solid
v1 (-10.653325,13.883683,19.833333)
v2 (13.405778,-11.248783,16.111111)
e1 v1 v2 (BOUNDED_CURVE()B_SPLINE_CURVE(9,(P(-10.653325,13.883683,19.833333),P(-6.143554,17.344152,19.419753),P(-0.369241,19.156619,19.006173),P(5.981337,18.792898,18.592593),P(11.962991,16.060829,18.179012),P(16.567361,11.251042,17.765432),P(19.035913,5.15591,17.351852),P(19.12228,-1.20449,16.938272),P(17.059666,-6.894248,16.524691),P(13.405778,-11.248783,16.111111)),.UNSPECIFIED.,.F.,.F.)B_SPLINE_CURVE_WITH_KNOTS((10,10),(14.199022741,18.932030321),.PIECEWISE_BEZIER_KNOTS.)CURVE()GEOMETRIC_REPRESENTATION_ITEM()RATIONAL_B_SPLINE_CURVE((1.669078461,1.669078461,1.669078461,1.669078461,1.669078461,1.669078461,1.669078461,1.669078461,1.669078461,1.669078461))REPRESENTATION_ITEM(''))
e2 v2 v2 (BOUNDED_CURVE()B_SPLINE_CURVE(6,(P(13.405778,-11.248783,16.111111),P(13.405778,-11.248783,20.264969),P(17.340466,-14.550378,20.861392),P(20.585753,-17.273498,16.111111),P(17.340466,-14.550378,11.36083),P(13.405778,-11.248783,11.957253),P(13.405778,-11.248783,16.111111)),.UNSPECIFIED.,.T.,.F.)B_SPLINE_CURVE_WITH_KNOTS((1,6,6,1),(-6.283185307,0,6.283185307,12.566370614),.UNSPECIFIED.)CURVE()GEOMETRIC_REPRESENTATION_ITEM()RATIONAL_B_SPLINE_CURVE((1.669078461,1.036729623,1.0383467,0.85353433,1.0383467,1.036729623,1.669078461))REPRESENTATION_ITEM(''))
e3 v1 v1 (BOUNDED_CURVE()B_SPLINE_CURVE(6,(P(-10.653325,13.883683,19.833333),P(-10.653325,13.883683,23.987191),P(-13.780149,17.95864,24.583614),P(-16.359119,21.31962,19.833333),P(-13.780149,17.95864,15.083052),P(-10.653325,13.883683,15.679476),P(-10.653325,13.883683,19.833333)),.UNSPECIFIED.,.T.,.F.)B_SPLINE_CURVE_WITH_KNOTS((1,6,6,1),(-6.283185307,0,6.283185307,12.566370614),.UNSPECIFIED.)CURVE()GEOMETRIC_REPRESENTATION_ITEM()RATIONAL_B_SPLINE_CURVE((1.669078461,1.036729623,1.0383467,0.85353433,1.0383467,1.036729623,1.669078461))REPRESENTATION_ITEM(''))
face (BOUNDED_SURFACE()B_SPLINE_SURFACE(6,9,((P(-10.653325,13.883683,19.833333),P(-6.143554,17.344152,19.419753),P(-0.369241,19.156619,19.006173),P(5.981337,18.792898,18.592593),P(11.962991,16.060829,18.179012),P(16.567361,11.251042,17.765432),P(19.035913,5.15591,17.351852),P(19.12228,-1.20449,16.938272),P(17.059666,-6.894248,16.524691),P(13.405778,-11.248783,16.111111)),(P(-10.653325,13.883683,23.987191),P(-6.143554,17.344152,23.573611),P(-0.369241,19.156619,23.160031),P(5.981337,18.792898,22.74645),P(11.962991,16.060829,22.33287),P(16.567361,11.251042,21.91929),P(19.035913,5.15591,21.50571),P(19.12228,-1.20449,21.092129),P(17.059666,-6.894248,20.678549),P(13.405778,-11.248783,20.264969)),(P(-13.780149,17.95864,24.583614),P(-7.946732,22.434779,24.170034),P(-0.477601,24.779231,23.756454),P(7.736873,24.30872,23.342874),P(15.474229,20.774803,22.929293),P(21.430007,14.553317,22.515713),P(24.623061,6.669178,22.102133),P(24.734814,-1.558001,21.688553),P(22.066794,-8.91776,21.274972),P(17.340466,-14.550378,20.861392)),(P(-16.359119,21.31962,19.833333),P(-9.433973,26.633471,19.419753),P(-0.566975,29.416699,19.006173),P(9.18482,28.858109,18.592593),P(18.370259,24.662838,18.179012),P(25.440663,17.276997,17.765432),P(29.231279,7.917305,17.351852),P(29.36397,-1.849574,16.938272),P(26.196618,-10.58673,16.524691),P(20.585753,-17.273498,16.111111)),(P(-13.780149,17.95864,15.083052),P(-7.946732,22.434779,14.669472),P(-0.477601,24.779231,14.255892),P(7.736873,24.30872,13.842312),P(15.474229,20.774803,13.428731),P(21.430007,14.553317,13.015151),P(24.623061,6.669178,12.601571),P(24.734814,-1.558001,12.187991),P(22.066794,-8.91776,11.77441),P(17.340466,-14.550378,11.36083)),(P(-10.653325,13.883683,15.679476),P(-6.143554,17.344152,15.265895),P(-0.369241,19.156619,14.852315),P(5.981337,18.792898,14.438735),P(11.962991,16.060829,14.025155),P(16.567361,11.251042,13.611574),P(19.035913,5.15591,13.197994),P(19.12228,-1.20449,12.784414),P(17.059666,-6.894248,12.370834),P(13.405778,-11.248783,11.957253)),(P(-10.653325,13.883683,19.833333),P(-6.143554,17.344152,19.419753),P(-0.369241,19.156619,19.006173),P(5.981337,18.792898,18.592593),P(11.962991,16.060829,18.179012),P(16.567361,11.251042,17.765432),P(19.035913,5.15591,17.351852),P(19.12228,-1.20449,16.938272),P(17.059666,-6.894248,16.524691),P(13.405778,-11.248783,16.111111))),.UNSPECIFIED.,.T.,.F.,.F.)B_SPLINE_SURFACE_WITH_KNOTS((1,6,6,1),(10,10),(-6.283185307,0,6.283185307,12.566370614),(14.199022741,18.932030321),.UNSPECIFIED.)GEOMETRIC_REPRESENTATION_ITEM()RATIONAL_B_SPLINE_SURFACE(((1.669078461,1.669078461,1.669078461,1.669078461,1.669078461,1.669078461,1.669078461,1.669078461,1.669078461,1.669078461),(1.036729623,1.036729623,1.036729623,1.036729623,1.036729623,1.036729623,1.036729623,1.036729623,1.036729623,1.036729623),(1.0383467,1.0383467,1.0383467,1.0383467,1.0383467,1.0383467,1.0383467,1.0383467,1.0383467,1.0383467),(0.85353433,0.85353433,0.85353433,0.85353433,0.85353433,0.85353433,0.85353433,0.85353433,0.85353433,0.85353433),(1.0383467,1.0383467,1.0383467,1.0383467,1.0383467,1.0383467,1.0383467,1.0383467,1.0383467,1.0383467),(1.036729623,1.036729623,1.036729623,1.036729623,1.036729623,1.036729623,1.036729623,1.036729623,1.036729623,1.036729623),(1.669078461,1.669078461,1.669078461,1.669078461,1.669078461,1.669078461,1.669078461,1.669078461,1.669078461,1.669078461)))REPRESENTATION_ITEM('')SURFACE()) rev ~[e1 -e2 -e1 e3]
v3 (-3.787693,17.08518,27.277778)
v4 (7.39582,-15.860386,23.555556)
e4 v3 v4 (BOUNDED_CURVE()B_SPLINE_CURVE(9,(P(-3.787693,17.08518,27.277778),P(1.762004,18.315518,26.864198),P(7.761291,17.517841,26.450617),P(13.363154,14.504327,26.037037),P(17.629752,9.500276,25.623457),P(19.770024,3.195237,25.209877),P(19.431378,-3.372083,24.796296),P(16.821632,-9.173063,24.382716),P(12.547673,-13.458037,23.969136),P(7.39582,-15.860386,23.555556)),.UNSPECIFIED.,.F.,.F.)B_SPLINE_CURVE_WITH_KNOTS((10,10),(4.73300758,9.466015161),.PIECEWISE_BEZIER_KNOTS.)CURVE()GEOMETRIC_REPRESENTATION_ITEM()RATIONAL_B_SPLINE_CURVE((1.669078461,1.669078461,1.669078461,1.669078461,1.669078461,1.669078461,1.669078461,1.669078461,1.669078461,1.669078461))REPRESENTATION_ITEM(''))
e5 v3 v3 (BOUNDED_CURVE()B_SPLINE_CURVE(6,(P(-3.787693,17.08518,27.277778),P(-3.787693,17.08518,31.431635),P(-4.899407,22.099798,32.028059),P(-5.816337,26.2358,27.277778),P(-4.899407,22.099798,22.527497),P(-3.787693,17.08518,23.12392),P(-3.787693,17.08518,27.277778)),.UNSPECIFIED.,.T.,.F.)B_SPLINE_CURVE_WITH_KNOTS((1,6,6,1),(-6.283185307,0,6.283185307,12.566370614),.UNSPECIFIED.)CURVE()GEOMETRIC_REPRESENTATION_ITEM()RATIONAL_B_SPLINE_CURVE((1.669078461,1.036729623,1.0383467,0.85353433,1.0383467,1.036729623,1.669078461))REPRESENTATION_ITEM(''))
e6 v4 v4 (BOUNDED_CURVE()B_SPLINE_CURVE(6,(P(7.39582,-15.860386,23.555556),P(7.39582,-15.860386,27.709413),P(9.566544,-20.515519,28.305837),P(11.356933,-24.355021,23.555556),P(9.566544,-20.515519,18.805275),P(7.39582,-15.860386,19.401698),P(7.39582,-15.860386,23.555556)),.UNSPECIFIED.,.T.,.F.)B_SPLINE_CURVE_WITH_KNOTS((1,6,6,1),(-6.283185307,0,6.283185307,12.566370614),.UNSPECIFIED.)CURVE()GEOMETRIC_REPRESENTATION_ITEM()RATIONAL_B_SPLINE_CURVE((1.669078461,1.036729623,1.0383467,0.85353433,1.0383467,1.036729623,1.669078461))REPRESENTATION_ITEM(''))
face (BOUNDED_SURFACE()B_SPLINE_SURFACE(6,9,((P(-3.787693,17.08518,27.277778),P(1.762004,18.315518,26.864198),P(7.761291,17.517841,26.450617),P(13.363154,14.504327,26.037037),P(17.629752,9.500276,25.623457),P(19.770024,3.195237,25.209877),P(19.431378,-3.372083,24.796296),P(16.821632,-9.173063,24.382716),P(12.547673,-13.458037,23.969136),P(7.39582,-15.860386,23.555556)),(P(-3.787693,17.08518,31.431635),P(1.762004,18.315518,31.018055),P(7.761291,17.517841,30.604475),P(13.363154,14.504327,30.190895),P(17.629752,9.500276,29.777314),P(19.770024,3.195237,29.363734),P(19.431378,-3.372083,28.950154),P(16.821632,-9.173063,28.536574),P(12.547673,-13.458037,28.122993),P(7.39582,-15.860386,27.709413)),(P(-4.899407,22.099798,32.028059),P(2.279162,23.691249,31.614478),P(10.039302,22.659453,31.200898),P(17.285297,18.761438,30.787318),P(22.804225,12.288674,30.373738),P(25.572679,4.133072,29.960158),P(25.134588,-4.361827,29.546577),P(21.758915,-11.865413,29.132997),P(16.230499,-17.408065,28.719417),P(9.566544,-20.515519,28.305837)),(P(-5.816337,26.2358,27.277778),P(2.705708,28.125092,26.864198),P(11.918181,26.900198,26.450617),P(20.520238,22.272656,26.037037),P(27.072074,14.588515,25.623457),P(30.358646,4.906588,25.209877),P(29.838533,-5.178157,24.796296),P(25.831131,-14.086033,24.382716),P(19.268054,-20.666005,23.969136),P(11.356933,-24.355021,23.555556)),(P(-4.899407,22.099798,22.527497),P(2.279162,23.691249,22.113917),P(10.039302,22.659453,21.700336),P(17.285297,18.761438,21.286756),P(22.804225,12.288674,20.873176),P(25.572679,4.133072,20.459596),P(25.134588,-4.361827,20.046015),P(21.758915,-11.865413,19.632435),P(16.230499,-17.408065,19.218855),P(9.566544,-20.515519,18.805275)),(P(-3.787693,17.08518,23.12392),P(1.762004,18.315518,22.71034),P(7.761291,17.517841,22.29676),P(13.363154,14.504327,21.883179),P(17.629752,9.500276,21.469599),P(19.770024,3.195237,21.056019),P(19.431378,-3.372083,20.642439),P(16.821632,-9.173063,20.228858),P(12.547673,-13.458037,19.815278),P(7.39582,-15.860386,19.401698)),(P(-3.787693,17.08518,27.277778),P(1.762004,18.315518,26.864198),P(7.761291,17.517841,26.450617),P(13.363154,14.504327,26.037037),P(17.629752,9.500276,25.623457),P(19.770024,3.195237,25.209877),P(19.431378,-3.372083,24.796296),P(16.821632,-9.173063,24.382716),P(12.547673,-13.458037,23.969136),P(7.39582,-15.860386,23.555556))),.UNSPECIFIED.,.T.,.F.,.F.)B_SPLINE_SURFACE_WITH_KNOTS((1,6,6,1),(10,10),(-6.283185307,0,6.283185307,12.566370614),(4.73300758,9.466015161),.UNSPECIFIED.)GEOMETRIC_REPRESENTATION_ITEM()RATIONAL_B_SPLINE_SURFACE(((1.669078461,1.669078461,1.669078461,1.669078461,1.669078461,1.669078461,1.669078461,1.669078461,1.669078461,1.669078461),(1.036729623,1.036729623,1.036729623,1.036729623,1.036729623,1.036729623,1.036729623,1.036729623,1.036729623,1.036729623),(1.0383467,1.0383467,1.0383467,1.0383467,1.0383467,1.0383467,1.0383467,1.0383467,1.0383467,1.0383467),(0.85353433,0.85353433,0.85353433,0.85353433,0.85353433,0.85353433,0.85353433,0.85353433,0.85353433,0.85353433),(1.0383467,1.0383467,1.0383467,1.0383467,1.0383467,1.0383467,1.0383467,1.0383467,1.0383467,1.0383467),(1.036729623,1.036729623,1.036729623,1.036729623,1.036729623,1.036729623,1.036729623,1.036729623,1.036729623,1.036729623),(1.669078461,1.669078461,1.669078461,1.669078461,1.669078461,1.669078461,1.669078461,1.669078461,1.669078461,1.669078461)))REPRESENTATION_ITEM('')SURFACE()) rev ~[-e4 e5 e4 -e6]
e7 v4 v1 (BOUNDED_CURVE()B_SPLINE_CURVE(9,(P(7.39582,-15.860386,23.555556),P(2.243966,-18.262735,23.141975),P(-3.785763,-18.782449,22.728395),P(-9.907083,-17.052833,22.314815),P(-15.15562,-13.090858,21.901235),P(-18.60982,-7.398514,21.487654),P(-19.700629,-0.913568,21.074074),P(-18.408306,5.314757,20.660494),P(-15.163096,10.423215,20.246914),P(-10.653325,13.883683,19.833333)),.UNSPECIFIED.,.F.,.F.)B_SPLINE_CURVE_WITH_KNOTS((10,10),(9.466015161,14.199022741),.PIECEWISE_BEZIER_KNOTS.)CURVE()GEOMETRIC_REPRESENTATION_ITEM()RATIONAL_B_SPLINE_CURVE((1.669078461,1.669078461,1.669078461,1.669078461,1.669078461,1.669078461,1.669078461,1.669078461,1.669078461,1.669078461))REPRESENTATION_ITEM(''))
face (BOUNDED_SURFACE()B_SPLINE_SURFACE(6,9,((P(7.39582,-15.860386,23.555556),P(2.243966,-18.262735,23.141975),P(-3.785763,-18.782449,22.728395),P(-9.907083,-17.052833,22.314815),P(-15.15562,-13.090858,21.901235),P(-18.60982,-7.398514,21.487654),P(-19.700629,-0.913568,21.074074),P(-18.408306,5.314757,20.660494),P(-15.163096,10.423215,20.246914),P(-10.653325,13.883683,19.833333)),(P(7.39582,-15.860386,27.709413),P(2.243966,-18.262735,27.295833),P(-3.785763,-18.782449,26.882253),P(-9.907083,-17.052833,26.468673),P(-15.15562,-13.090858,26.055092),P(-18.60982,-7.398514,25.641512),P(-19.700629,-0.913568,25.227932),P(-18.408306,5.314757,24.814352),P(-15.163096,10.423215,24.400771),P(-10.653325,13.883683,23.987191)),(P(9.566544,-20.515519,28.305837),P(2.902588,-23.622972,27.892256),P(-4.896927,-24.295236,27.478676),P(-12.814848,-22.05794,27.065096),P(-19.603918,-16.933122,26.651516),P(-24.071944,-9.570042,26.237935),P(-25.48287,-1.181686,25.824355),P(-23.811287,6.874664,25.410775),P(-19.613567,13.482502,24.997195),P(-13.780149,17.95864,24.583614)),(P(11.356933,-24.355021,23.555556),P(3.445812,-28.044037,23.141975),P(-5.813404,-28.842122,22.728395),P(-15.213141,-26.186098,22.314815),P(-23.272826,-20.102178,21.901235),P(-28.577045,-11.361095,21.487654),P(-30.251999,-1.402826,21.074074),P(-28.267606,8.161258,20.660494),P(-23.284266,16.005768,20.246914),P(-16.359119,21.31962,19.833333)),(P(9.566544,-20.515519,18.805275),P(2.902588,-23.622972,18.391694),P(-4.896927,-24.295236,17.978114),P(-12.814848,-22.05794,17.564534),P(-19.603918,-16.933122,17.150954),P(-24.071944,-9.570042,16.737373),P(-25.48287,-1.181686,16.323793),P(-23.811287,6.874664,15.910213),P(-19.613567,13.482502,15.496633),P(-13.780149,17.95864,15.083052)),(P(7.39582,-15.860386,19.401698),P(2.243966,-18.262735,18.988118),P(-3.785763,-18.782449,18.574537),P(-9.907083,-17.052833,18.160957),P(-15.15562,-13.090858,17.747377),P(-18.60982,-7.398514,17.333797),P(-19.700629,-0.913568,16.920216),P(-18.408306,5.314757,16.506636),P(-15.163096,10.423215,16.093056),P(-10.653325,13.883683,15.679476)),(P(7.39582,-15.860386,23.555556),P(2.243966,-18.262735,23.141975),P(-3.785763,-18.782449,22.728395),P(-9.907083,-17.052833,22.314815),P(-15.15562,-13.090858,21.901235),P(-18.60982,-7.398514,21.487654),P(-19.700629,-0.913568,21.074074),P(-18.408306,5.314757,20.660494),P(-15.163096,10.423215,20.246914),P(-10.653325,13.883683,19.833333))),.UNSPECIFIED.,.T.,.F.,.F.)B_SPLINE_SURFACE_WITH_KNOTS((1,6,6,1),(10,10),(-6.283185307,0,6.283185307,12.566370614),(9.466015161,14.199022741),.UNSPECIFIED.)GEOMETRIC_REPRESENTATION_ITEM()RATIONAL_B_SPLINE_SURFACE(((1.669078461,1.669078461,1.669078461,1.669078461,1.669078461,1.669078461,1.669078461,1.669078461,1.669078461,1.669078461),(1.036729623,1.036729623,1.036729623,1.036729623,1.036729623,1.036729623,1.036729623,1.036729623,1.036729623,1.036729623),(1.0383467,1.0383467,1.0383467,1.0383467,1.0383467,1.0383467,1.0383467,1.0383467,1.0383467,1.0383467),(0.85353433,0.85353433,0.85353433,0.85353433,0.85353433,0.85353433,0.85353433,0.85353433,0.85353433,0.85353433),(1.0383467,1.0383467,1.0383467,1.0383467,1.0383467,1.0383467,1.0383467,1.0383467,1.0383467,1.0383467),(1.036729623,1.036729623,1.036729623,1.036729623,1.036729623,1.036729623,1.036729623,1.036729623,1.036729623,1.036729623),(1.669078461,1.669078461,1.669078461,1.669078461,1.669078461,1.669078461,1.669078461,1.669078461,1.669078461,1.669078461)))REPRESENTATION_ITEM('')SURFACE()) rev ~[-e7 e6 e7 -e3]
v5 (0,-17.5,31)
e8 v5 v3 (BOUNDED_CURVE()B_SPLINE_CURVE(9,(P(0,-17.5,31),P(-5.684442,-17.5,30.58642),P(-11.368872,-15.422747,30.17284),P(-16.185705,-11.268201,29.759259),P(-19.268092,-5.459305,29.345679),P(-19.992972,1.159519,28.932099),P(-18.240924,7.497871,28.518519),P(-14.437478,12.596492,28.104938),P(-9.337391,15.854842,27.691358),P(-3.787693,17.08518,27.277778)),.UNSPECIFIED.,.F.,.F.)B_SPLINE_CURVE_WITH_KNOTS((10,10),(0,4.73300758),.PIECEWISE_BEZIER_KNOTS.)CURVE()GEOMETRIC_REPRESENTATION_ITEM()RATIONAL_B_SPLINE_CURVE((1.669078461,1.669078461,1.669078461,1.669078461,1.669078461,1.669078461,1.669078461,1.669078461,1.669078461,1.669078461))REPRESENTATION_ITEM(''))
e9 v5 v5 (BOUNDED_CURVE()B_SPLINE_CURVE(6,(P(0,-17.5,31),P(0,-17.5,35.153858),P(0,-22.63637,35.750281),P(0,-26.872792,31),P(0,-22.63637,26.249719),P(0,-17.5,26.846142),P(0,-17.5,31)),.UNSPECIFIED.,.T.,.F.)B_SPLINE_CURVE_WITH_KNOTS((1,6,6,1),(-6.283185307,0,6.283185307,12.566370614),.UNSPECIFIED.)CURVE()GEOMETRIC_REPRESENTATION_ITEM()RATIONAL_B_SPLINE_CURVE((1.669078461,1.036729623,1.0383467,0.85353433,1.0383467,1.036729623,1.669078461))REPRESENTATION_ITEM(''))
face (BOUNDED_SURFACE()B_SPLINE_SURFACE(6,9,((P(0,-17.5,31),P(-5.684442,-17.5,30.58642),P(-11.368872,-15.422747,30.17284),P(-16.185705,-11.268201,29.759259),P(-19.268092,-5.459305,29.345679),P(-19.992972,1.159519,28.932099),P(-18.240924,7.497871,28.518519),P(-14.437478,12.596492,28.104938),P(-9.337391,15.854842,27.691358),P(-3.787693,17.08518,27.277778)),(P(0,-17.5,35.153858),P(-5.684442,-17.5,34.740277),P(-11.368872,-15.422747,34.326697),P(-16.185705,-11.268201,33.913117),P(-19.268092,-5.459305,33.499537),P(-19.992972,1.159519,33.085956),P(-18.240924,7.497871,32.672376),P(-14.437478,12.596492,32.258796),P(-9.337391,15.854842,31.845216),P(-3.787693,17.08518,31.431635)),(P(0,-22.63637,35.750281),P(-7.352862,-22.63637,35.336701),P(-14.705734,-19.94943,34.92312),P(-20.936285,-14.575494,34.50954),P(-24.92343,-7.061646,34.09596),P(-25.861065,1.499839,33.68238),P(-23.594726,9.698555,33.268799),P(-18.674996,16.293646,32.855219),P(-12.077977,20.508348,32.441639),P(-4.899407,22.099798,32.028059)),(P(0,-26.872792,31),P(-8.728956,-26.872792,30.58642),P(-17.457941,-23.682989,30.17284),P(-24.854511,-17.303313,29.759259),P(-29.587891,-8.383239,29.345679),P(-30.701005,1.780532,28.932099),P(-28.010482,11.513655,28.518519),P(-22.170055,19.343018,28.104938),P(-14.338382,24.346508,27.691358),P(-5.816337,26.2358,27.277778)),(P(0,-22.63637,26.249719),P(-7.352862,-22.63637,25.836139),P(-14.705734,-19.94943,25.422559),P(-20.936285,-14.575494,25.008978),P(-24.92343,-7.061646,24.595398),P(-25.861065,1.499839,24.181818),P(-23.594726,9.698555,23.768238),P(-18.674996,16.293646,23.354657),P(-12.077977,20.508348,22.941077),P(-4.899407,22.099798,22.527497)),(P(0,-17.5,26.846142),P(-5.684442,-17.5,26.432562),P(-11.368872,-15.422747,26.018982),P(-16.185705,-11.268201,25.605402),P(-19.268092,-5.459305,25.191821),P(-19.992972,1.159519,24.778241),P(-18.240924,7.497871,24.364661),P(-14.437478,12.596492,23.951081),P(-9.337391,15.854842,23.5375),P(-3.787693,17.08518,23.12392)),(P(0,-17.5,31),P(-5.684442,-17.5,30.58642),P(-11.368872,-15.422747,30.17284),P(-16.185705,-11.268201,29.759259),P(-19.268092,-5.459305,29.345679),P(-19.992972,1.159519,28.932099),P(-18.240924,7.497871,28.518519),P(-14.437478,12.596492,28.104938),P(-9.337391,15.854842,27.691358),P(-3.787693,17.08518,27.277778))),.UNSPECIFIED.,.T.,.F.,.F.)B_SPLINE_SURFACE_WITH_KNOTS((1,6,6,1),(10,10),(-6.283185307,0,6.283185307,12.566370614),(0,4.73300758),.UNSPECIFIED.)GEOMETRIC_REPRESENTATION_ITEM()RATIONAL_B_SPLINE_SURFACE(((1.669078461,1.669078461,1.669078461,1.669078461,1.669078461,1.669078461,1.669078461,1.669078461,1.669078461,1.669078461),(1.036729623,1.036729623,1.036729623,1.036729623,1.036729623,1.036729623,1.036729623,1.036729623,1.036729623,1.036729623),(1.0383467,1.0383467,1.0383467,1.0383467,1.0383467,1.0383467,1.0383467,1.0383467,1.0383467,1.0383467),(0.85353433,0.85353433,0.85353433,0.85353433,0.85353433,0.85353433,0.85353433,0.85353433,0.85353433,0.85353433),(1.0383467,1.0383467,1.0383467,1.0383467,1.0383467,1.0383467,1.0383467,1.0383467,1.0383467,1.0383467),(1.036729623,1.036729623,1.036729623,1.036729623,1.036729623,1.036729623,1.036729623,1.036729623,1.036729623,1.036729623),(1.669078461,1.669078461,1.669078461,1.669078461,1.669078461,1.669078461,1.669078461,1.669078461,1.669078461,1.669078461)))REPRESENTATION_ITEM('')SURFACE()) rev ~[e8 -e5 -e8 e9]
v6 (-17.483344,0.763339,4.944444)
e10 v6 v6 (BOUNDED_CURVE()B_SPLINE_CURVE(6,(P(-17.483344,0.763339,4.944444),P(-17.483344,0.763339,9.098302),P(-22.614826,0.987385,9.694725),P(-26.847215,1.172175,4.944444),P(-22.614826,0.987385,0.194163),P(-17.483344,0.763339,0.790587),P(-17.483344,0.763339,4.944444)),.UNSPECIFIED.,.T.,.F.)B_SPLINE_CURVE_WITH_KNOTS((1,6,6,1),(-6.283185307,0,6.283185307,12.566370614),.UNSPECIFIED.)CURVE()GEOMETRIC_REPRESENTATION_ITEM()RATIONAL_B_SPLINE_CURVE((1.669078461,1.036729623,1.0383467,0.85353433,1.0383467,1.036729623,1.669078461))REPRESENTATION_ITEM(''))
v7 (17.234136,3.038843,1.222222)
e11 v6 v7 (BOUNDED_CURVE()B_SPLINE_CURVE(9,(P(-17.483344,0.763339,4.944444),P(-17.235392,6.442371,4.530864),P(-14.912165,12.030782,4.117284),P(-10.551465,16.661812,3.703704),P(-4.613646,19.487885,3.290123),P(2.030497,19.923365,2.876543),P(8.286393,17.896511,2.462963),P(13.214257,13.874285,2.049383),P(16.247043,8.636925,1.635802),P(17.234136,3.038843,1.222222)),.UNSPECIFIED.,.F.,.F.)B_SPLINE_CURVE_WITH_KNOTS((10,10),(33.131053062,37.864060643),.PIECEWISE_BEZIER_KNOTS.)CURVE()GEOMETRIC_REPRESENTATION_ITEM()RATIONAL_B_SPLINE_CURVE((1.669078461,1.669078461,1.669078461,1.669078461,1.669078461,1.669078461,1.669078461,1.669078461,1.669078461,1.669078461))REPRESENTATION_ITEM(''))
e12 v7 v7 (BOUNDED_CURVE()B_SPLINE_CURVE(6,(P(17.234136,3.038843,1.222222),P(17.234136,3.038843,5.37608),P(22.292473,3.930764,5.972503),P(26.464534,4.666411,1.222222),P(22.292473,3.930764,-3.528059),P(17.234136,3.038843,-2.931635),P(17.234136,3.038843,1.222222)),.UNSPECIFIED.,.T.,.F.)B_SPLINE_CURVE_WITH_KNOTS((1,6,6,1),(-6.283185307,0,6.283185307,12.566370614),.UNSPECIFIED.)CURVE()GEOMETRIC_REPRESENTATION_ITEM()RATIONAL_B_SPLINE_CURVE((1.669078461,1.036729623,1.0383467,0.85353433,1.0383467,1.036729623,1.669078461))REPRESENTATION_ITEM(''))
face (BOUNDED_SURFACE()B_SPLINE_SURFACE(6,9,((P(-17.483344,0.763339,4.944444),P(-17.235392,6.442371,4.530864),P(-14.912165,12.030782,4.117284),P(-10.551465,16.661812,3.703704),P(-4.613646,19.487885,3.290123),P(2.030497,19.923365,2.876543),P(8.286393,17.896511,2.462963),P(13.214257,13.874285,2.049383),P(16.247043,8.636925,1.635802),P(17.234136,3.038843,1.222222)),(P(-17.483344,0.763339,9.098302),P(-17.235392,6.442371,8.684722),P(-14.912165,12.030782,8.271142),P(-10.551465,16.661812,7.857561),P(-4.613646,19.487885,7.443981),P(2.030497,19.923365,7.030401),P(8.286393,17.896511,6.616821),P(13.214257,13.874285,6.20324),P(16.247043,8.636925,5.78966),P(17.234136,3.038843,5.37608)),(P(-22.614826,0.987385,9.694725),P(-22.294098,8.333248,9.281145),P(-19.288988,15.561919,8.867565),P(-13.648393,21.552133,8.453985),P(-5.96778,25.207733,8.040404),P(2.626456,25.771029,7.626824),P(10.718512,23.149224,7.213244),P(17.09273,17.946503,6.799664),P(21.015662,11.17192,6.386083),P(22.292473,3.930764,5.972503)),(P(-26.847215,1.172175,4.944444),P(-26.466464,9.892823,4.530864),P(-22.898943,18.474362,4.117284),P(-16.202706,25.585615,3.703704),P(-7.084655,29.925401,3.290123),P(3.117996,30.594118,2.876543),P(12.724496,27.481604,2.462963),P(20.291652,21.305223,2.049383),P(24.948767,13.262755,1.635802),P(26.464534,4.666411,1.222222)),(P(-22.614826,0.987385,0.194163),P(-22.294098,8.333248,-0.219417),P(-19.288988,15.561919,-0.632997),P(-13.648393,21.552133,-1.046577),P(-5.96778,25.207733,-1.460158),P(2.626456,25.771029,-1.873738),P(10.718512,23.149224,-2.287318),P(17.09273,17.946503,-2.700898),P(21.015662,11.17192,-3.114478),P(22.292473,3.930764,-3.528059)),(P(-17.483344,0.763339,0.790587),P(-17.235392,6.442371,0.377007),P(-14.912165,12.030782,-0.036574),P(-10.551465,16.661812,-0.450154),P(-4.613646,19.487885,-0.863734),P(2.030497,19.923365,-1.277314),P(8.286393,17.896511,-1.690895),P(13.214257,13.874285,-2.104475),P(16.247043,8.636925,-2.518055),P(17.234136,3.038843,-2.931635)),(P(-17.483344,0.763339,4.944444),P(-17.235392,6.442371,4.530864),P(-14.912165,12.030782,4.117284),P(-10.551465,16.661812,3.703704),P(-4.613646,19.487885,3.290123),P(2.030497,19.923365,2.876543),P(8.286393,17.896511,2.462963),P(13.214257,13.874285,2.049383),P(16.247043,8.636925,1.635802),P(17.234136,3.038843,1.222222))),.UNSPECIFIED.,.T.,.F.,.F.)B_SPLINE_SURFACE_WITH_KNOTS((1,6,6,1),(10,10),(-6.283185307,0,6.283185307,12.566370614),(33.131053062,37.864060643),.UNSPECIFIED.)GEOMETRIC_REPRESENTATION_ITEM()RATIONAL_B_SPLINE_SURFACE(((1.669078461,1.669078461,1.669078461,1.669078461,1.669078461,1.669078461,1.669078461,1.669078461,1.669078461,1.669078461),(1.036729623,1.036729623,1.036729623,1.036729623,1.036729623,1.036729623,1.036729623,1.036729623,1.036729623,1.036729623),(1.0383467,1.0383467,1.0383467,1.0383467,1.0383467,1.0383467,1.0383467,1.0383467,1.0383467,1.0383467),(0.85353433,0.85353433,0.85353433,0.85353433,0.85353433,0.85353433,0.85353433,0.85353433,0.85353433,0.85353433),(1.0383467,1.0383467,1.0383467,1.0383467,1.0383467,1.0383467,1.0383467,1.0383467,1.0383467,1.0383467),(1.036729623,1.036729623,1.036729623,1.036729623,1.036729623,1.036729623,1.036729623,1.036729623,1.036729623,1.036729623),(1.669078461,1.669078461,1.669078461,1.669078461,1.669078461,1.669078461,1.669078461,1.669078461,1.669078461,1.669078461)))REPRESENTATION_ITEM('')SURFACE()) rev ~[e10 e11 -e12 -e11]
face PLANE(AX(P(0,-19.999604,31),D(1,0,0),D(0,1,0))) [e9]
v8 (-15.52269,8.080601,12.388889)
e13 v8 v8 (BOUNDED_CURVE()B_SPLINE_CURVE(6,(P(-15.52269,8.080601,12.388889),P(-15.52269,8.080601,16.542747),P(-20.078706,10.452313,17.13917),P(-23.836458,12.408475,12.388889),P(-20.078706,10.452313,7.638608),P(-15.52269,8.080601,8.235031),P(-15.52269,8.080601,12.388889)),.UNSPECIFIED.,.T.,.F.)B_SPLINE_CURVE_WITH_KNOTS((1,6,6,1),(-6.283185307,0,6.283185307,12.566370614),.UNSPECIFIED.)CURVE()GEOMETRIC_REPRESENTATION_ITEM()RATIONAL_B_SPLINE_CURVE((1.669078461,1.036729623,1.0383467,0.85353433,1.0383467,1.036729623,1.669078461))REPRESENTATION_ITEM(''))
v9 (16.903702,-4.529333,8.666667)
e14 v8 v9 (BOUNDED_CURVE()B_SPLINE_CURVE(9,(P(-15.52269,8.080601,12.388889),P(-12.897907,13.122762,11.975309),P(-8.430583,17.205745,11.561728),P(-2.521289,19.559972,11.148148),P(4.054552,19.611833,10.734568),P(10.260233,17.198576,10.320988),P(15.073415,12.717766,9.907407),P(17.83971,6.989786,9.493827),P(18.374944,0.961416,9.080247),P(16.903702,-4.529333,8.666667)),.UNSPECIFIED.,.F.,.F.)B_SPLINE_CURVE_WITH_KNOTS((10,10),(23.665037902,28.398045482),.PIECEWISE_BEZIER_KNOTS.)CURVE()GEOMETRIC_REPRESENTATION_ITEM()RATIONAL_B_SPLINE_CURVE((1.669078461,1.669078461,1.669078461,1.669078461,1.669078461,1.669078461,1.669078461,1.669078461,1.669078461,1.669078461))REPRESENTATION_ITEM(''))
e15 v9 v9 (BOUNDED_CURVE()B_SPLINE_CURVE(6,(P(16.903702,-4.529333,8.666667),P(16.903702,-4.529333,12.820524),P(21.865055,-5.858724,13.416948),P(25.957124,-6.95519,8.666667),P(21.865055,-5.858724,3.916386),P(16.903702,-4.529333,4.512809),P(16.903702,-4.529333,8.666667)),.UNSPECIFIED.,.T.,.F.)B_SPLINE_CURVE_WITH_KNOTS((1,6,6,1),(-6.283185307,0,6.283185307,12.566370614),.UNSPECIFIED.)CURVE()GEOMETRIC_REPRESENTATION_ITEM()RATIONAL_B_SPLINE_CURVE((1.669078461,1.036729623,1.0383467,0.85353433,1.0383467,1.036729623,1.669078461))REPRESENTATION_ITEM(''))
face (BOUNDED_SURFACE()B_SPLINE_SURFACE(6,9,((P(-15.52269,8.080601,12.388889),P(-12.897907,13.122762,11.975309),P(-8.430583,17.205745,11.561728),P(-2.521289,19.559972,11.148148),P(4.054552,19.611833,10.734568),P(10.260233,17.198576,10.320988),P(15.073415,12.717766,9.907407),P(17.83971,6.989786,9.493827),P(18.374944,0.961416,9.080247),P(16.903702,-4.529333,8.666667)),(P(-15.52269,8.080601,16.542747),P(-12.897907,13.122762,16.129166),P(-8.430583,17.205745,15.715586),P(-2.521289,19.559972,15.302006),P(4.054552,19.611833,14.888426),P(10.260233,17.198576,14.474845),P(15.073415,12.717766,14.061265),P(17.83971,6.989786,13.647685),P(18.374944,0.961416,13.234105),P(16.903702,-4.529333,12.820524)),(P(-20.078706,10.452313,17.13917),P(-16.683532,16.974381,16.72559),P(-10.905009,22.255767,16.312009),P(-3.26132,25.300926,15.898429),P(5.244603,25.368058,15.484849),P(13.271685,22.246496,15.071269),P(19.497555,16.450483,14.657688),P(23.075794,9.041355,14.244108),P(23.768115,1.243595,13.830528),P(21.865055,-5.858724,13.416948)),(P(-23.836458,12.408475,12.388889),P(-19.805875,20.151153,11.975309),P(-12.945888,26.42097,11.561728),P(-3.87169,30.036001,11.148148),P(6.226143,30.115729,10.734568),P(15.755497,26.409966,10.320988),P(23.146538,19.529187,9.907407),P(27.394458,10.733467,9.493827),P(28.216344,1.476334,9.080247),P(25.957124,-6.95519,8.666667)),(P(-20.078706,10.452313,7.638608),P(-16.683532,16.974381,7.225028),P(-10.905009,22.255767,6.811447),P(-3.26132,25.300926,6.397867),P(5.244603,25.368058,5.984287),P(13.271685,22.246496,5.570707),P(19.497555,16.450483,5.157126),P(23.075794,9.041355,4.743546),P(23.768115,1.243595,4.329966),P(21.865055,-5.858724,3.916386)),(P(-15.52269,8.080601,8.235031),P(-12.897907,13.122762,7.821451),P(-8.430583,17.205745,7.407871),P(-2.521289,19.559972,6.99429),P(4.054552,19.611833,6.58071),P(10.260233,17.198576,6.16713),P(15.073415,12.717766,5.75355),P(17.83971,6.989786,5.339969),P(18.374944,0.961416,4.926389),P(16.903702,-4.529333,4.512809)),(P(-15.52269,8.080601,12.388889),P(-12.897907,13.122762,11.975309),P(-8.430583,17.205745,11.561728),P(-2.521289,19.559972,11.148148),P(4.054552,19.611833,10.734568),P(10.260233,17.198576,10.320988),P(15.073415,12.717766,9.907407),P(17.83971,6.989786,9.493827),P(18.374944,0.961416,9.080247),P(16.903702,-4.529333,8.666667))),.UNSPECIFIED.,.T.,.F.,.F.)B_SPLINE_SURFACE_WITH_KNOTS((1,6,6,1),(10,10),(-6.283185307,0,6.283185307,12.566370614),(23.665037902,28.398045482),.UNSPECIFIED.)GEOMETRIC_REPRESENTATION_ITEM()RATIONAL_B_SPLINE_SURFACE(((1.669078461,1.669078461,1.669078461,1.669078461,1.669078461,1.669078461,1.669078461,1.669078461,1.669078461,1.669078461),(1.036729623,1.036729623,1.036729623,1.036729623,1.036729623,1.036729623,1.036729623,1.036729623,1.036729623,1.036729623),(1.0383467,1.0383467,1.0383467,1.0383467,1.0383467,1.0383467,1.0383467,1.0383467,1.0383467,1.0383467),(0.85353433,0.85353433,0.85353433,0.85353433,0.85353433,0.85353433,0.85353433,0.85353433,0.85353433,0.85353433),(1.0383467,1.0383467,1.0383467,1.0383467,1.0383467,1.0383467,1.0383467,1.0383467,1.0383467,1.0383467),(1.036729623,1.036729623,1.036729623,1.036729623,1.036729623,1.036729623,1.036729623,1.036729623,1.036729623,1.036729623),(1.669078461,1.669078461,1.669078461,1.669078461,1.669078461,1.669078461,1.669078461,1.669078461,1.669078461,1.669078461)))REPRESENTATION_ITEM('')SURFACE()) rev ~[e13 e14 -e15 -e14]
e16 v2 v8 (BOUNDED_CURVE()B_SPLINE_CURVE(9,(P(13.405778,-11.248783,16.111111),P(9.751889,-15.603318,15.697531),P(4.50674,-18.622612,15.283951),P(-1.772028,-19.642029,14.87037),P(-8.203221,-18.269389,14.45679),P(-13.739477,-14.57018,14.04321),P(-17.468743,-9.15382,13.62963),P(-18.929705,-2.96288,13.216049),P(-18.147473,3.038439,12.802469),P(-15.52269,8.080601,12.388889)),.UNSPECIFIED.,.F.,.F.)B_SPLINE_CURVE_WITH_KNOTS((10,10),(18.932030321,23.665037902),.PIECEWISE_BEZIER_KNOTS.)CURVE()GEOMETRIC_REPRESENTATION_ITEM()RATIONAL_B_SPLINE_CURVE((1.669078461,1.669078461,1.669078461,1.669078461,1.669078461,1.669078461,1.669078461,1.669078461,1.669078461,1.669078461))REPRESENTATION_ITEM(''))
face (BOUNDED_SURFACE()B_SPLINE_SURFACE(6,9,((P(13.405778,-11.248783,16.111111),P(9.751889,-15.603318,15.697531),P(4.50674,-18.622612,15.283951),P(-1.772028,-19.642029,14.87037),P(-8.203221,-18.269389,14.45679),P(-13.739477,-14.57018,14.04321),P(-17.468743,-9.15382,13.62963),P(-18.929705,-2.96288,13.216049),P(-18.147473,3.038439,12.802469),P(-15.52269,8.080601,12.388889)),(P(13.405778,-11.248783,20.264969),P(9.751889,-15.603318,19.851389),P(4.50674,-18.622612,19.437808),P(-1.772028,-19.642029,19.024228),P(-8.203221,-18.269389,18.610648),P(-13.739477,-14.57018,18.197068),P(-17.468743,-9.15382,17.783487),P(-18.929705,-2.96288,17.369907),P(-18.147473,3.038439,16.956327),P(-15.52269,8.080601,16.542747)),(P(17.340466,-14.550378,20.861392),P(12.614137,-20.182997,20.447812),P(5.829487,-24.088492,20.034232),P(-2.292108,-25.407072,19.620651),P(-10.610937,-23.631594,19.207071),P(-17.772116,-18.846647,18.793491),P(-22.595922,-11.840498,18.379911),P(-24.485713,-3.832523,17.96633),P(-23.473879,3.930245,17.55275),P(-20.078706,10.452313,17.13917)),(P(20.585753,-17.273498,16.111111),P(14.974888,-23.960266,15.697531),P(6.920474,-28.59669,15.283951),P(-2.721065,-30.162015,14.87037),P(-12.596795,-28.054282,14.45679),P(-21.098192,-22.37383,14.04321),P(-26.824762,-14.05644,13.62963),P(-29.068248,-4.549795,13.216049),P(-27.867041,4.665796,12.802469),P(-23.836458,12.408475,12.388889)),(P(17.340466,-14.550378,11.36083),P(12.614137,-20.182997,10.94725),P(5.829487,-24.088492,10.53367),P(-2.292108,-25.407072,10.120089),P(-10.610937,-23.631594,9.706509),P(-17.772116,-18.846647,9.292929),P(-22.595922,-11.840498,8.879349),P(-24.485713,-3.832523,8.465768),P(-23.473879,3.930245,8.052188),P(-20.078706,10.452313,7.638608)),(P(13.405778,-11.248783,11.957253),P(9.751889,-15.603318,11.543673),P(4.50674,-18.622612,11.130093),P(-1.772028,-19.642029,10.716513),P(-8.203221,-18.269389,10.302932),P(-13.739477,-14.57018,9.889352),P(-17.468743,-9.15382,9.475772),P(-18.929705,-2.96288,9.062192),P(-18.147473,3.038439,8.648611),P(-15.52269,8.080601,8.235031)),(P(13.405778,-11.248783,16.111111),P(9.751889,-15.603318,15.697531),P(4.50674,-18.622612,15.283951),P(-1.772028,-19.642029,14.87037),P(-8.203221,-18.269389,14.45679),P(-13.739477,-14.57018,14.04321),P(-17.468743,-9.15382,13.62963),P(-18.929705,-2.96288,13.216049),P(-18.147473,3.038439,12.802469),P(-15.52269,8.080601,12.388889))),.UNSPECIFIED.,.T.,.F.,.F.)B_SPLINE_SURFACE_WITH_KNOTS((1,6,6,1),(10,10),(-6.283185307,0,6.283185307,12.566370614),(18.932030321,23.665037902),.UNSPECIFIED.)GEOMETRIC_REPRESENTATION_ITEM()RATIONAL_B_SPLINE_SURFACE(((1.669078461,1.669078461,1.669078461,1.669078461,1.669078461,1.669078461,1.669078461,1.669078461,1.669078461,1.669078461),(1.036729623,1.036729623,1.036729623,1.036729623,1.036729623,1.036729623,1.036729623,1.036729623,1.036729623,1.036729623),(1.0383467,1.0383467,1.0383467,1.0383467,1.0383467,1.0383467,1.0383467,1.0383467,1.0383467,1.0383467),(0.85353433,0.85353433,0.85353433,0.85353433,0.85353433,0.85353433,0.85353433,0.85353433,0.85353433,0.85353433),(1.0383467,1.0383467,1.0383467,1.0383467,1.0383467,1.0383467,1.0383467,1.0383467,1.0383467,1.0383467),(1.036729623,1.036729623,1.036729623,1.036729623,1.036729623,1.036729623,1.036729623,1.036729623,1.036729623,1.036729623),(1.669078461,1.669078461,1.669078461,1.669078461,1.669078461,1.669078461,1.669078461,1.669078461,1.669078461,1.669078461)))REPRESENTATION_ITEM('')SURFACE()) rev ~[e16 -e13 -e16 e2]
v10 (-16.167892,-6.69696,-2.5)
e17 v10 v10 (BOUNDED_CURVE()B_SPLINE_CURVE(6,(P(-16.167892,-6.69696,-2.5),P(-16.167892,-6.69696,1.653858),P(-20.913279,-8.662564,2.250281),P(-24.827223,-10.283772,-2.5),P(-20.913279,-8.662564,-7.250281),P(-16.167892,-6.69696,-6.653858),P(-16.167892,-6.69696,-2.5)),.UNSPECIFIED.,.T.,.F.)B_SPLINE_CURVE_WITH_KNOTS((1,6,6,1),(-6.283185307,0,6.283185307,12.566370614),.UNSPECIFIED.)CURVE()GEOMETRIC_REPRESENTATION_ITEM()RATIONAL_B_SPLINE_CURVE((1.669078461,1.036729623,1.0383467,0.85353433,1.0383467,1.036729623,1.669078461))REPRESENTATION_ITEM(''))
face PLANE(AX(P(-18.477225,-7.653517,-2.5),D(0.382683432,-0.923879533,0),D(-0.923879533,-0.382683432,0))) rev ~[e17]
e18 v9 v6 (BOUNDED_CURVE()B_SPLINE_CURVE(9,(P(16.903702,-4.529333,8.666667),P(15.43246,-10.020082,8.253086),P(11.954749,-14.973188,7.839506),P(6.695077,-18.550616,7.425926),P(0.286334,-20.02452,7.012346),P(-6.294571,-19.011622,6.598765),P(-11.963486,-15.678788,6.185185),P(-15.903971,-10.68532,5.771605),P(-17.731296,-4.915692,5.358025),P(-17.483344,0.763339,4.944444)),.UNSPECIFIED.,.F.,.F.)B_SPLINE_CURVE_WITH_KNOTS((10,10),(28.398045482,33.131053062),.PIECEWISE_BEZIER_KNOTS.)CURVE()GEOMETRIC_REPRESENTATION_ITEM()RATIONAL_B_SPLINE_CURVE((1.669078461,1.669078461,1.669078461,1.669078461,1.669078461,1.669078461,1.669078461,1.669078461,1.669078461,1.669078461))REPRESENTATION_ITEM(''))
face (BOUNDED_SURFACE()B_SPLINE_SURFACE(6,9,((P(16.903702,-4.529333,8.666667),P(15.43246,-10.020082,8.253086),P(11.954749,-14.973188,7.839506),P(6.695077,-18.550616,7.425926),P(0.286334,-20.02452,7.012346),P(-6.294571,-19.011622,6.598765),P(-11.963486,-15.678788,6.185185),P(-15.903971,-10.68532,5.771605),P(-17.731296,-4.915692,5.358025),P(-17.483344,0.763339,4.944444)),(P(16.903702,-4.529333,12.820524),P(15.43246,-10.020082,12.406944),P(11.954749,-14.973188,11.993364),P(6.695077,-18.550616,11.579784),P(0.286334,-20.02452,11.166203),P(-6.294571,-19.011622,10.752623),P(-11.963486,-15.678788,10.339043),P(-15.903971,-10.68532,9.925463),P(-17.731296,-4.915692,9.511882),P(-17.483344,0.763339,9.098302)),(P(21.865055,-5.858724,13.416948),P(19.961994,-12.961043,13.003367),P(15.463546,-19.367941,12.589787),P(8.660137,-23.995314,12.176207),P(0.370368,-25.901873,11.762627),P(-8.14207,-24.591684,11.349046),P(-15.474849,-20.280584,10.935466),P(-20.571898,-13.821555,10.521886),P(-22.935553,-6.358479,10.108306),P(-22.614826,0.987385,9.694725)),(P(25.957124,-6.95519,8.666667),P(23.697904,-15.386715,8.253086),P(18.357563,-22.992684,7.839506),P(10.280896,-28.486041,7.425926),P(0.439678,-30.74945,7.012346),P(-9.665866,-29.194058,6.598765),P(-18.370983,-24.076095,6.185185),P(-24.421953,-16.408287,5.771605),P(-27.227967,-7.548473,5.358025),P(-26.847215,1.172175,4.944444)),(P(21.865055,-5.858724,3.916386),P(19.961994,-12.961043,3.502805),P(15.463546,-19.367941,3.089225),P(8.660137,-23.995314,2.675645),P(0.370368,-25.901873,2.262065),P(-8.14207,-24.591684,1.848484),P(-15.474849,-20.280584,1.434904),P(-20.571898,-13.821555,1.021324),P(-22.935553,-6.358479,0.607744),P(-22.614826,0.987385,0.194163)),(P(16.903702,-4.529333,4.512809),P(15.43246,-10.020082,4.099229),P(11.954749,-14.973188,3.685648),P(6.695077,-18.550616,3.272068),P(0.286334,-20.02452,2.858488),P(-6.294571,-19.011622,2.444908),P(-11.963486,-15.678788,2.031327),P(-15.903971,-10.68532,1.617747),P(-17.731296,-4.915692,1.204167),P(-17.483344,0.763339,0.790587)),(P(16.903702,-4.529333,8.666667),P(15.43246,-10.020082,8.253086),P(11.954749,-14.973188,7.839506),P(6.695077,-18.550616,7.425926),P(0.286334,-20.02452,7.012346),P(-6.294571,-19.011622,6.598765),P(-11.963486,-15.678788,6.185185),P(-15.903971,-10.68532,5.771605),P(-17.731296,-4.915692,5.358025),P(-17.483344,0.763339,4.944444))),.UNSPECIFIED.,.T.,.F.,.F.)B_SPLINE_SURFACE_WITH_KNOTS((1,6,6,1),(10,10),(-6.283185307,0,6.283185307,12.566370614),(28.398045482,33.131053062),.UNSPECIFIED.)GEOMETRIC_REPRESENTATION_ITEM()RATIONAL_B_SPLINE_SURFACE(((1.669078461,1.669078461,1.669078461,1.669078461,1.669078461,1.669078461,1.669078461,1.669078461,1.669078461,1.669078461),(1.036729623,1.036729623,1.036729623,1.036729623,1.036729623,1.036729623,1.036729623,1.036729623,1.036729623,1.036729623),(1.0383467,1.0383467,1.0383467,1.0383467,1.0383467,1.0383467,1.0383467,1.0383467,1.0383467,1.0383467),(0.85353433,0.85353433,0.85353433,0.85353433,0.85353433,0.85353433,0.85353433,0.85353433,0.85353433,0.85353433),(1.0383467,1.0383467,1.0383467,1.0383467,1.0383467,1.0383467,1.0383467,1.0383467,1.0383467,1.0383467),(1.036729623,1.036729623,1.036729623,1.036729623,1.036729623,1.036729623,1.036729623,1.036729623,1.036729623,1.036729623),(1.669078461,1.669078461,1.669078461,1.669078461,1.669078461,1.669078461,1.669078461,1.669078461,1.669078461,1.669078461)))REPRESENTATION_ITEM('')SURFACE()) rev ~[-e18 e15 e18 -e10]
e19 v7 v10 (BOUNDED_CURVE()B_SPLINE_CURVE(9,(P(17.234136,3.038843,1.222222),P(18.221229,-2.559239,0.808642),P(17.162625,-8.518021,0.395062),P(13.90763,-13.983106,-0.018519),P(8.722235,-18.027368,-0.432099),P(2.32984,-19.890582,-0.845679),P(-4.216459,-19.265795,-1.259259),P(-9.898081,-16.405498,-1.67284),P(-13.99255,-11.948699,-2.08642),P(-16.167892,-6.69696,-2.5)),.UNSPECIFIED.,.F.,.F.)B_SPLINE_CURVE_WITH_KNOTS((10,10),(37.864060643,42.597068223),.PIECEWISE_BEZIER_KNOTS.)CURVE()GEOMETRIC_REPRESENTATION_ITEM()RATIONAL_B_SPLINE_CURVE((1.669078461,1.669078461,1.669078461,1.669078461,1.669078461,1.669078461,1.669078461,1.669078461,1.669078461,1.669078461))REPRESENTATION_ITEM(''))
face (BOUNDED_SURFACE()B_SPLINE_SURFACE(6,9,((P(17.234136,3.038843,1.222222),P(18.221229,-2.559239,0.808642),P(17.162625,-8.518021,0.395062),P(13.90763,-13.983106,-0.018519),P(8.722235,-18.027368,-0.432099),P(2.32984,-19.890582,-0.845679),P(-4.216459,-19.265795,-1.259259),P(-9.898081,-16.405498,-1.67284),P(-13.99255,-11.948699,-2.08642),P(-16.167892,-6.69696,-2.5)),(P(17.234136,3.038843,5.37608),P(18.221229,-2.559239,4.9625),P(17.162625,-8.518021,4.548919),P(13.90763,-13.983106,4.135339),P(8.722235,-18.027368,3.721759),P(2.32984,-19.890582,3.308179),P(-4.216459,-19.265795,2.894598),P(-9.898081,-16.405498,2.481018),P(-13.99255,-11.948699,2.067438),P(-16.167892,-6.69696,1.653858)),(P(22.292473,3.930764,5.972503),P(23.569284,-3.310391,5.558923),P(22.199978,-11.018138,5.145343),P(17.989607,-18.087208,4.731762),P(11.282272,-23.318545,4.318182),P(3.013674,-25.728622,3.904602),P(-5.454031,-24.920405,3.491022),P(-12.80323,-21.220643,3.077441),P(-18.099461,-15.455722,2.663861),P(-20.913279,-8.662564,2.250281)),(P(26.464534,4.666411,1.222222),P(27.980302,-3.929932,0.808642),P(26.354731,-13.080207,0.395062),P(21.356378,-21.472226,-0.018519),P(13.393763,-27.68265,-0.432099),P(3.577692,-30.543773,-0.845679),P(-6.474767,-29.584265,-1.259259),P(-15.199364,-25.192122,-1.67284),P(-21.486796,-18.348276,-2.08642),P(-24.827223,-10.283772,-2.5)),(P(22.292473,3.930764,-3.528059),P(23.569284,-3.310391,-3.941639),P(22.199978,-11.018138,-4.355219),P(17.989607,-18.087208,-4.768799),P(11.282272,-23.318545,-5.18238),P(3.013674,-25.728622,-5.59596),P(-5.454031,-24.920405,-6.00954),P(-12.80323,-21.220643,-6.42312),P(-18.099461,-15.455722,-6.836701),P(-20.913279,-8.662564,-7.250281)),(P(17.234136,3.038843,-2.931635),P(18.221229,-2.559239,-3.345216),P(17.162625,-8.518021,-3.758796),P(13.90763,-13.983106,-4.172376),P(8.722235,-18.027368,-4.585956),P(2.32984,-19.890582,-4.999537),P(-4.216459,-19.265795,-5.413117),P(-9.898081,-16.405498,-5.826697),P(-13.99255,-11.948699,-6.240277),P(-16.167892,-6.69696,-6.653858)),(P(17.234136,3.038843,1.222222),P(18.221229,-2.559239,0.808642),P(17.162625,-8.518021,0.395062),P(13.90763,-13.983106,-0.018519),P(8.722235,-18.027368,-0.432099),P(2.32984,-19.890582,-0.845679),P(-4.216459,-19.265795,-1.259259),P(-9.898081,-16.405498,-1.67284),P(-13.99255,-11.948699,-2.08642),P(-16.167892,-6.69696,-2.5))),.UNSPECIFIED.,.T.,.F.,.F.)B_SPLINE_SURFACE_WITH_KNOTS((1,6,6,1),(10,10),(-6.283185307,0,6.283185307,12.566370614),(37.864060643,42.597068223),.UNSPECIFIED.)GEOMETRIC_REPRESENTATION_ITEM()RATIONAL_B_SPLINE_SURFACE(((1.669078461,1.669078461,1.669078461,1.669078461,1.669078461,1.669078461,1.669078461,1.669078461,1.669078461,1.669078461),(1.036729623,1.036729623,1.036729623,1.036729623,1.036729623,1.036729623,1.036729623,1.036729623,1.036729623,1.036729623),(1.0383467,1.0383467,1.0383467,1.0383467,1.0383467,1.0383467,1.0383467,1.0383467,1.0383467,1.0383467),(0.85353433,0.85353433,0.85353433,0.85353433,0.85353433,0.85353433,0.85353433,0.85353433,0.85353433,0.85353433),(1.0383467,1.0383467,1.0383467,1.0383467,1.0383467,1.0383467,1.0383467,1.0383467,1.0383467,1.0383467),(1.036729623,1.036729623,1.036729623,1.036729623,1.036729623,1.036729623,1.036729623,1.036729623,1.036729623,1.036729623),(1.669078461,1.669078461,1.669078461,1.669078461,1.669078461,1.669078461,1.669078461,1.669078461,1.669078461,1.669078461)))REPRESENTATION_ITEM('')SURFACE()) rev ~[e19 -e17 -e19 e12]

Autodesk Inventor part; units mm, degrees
ref_plane "YZ Plane" through (0, 0, 0) normal (1, 0, 0) x (0, 1, 0)
ref_plane "XZ Plane" through (0, 0, 0) normal (0, 1, 0) x (-1, 0, 0)
ref_plane "XY Plane" through (0, 0, 0) normal (0, 0, 1) x (1, 0, 0)
sketch "草图1" plane through (0, 0, 0) normal (1, 0, 0) x (0, 1, 0)
  line L0 (40.3488, 3) -> (-41.6512, 3) projected
  line L1 (26.8219, 33.5) -> (84.8219, 33.5) projected
  line L2 (22.8349, 0) -> (-22.8349, 0) projected
  circle A0 centre (-20, 31) radius 2.5
  line L3 (0, 33.5) -> (0, 0)
  dimension "d0" = 33.5
  dimension "d1" = 5
  dimension "d2" = 20
coil "螺旋扫掠1" sketch "草图1" operation add axis through (0, 0, 33.5) along (0, 0, -1) pitch 8 turns 4.1875 hand right
properties part number "弹簧"
